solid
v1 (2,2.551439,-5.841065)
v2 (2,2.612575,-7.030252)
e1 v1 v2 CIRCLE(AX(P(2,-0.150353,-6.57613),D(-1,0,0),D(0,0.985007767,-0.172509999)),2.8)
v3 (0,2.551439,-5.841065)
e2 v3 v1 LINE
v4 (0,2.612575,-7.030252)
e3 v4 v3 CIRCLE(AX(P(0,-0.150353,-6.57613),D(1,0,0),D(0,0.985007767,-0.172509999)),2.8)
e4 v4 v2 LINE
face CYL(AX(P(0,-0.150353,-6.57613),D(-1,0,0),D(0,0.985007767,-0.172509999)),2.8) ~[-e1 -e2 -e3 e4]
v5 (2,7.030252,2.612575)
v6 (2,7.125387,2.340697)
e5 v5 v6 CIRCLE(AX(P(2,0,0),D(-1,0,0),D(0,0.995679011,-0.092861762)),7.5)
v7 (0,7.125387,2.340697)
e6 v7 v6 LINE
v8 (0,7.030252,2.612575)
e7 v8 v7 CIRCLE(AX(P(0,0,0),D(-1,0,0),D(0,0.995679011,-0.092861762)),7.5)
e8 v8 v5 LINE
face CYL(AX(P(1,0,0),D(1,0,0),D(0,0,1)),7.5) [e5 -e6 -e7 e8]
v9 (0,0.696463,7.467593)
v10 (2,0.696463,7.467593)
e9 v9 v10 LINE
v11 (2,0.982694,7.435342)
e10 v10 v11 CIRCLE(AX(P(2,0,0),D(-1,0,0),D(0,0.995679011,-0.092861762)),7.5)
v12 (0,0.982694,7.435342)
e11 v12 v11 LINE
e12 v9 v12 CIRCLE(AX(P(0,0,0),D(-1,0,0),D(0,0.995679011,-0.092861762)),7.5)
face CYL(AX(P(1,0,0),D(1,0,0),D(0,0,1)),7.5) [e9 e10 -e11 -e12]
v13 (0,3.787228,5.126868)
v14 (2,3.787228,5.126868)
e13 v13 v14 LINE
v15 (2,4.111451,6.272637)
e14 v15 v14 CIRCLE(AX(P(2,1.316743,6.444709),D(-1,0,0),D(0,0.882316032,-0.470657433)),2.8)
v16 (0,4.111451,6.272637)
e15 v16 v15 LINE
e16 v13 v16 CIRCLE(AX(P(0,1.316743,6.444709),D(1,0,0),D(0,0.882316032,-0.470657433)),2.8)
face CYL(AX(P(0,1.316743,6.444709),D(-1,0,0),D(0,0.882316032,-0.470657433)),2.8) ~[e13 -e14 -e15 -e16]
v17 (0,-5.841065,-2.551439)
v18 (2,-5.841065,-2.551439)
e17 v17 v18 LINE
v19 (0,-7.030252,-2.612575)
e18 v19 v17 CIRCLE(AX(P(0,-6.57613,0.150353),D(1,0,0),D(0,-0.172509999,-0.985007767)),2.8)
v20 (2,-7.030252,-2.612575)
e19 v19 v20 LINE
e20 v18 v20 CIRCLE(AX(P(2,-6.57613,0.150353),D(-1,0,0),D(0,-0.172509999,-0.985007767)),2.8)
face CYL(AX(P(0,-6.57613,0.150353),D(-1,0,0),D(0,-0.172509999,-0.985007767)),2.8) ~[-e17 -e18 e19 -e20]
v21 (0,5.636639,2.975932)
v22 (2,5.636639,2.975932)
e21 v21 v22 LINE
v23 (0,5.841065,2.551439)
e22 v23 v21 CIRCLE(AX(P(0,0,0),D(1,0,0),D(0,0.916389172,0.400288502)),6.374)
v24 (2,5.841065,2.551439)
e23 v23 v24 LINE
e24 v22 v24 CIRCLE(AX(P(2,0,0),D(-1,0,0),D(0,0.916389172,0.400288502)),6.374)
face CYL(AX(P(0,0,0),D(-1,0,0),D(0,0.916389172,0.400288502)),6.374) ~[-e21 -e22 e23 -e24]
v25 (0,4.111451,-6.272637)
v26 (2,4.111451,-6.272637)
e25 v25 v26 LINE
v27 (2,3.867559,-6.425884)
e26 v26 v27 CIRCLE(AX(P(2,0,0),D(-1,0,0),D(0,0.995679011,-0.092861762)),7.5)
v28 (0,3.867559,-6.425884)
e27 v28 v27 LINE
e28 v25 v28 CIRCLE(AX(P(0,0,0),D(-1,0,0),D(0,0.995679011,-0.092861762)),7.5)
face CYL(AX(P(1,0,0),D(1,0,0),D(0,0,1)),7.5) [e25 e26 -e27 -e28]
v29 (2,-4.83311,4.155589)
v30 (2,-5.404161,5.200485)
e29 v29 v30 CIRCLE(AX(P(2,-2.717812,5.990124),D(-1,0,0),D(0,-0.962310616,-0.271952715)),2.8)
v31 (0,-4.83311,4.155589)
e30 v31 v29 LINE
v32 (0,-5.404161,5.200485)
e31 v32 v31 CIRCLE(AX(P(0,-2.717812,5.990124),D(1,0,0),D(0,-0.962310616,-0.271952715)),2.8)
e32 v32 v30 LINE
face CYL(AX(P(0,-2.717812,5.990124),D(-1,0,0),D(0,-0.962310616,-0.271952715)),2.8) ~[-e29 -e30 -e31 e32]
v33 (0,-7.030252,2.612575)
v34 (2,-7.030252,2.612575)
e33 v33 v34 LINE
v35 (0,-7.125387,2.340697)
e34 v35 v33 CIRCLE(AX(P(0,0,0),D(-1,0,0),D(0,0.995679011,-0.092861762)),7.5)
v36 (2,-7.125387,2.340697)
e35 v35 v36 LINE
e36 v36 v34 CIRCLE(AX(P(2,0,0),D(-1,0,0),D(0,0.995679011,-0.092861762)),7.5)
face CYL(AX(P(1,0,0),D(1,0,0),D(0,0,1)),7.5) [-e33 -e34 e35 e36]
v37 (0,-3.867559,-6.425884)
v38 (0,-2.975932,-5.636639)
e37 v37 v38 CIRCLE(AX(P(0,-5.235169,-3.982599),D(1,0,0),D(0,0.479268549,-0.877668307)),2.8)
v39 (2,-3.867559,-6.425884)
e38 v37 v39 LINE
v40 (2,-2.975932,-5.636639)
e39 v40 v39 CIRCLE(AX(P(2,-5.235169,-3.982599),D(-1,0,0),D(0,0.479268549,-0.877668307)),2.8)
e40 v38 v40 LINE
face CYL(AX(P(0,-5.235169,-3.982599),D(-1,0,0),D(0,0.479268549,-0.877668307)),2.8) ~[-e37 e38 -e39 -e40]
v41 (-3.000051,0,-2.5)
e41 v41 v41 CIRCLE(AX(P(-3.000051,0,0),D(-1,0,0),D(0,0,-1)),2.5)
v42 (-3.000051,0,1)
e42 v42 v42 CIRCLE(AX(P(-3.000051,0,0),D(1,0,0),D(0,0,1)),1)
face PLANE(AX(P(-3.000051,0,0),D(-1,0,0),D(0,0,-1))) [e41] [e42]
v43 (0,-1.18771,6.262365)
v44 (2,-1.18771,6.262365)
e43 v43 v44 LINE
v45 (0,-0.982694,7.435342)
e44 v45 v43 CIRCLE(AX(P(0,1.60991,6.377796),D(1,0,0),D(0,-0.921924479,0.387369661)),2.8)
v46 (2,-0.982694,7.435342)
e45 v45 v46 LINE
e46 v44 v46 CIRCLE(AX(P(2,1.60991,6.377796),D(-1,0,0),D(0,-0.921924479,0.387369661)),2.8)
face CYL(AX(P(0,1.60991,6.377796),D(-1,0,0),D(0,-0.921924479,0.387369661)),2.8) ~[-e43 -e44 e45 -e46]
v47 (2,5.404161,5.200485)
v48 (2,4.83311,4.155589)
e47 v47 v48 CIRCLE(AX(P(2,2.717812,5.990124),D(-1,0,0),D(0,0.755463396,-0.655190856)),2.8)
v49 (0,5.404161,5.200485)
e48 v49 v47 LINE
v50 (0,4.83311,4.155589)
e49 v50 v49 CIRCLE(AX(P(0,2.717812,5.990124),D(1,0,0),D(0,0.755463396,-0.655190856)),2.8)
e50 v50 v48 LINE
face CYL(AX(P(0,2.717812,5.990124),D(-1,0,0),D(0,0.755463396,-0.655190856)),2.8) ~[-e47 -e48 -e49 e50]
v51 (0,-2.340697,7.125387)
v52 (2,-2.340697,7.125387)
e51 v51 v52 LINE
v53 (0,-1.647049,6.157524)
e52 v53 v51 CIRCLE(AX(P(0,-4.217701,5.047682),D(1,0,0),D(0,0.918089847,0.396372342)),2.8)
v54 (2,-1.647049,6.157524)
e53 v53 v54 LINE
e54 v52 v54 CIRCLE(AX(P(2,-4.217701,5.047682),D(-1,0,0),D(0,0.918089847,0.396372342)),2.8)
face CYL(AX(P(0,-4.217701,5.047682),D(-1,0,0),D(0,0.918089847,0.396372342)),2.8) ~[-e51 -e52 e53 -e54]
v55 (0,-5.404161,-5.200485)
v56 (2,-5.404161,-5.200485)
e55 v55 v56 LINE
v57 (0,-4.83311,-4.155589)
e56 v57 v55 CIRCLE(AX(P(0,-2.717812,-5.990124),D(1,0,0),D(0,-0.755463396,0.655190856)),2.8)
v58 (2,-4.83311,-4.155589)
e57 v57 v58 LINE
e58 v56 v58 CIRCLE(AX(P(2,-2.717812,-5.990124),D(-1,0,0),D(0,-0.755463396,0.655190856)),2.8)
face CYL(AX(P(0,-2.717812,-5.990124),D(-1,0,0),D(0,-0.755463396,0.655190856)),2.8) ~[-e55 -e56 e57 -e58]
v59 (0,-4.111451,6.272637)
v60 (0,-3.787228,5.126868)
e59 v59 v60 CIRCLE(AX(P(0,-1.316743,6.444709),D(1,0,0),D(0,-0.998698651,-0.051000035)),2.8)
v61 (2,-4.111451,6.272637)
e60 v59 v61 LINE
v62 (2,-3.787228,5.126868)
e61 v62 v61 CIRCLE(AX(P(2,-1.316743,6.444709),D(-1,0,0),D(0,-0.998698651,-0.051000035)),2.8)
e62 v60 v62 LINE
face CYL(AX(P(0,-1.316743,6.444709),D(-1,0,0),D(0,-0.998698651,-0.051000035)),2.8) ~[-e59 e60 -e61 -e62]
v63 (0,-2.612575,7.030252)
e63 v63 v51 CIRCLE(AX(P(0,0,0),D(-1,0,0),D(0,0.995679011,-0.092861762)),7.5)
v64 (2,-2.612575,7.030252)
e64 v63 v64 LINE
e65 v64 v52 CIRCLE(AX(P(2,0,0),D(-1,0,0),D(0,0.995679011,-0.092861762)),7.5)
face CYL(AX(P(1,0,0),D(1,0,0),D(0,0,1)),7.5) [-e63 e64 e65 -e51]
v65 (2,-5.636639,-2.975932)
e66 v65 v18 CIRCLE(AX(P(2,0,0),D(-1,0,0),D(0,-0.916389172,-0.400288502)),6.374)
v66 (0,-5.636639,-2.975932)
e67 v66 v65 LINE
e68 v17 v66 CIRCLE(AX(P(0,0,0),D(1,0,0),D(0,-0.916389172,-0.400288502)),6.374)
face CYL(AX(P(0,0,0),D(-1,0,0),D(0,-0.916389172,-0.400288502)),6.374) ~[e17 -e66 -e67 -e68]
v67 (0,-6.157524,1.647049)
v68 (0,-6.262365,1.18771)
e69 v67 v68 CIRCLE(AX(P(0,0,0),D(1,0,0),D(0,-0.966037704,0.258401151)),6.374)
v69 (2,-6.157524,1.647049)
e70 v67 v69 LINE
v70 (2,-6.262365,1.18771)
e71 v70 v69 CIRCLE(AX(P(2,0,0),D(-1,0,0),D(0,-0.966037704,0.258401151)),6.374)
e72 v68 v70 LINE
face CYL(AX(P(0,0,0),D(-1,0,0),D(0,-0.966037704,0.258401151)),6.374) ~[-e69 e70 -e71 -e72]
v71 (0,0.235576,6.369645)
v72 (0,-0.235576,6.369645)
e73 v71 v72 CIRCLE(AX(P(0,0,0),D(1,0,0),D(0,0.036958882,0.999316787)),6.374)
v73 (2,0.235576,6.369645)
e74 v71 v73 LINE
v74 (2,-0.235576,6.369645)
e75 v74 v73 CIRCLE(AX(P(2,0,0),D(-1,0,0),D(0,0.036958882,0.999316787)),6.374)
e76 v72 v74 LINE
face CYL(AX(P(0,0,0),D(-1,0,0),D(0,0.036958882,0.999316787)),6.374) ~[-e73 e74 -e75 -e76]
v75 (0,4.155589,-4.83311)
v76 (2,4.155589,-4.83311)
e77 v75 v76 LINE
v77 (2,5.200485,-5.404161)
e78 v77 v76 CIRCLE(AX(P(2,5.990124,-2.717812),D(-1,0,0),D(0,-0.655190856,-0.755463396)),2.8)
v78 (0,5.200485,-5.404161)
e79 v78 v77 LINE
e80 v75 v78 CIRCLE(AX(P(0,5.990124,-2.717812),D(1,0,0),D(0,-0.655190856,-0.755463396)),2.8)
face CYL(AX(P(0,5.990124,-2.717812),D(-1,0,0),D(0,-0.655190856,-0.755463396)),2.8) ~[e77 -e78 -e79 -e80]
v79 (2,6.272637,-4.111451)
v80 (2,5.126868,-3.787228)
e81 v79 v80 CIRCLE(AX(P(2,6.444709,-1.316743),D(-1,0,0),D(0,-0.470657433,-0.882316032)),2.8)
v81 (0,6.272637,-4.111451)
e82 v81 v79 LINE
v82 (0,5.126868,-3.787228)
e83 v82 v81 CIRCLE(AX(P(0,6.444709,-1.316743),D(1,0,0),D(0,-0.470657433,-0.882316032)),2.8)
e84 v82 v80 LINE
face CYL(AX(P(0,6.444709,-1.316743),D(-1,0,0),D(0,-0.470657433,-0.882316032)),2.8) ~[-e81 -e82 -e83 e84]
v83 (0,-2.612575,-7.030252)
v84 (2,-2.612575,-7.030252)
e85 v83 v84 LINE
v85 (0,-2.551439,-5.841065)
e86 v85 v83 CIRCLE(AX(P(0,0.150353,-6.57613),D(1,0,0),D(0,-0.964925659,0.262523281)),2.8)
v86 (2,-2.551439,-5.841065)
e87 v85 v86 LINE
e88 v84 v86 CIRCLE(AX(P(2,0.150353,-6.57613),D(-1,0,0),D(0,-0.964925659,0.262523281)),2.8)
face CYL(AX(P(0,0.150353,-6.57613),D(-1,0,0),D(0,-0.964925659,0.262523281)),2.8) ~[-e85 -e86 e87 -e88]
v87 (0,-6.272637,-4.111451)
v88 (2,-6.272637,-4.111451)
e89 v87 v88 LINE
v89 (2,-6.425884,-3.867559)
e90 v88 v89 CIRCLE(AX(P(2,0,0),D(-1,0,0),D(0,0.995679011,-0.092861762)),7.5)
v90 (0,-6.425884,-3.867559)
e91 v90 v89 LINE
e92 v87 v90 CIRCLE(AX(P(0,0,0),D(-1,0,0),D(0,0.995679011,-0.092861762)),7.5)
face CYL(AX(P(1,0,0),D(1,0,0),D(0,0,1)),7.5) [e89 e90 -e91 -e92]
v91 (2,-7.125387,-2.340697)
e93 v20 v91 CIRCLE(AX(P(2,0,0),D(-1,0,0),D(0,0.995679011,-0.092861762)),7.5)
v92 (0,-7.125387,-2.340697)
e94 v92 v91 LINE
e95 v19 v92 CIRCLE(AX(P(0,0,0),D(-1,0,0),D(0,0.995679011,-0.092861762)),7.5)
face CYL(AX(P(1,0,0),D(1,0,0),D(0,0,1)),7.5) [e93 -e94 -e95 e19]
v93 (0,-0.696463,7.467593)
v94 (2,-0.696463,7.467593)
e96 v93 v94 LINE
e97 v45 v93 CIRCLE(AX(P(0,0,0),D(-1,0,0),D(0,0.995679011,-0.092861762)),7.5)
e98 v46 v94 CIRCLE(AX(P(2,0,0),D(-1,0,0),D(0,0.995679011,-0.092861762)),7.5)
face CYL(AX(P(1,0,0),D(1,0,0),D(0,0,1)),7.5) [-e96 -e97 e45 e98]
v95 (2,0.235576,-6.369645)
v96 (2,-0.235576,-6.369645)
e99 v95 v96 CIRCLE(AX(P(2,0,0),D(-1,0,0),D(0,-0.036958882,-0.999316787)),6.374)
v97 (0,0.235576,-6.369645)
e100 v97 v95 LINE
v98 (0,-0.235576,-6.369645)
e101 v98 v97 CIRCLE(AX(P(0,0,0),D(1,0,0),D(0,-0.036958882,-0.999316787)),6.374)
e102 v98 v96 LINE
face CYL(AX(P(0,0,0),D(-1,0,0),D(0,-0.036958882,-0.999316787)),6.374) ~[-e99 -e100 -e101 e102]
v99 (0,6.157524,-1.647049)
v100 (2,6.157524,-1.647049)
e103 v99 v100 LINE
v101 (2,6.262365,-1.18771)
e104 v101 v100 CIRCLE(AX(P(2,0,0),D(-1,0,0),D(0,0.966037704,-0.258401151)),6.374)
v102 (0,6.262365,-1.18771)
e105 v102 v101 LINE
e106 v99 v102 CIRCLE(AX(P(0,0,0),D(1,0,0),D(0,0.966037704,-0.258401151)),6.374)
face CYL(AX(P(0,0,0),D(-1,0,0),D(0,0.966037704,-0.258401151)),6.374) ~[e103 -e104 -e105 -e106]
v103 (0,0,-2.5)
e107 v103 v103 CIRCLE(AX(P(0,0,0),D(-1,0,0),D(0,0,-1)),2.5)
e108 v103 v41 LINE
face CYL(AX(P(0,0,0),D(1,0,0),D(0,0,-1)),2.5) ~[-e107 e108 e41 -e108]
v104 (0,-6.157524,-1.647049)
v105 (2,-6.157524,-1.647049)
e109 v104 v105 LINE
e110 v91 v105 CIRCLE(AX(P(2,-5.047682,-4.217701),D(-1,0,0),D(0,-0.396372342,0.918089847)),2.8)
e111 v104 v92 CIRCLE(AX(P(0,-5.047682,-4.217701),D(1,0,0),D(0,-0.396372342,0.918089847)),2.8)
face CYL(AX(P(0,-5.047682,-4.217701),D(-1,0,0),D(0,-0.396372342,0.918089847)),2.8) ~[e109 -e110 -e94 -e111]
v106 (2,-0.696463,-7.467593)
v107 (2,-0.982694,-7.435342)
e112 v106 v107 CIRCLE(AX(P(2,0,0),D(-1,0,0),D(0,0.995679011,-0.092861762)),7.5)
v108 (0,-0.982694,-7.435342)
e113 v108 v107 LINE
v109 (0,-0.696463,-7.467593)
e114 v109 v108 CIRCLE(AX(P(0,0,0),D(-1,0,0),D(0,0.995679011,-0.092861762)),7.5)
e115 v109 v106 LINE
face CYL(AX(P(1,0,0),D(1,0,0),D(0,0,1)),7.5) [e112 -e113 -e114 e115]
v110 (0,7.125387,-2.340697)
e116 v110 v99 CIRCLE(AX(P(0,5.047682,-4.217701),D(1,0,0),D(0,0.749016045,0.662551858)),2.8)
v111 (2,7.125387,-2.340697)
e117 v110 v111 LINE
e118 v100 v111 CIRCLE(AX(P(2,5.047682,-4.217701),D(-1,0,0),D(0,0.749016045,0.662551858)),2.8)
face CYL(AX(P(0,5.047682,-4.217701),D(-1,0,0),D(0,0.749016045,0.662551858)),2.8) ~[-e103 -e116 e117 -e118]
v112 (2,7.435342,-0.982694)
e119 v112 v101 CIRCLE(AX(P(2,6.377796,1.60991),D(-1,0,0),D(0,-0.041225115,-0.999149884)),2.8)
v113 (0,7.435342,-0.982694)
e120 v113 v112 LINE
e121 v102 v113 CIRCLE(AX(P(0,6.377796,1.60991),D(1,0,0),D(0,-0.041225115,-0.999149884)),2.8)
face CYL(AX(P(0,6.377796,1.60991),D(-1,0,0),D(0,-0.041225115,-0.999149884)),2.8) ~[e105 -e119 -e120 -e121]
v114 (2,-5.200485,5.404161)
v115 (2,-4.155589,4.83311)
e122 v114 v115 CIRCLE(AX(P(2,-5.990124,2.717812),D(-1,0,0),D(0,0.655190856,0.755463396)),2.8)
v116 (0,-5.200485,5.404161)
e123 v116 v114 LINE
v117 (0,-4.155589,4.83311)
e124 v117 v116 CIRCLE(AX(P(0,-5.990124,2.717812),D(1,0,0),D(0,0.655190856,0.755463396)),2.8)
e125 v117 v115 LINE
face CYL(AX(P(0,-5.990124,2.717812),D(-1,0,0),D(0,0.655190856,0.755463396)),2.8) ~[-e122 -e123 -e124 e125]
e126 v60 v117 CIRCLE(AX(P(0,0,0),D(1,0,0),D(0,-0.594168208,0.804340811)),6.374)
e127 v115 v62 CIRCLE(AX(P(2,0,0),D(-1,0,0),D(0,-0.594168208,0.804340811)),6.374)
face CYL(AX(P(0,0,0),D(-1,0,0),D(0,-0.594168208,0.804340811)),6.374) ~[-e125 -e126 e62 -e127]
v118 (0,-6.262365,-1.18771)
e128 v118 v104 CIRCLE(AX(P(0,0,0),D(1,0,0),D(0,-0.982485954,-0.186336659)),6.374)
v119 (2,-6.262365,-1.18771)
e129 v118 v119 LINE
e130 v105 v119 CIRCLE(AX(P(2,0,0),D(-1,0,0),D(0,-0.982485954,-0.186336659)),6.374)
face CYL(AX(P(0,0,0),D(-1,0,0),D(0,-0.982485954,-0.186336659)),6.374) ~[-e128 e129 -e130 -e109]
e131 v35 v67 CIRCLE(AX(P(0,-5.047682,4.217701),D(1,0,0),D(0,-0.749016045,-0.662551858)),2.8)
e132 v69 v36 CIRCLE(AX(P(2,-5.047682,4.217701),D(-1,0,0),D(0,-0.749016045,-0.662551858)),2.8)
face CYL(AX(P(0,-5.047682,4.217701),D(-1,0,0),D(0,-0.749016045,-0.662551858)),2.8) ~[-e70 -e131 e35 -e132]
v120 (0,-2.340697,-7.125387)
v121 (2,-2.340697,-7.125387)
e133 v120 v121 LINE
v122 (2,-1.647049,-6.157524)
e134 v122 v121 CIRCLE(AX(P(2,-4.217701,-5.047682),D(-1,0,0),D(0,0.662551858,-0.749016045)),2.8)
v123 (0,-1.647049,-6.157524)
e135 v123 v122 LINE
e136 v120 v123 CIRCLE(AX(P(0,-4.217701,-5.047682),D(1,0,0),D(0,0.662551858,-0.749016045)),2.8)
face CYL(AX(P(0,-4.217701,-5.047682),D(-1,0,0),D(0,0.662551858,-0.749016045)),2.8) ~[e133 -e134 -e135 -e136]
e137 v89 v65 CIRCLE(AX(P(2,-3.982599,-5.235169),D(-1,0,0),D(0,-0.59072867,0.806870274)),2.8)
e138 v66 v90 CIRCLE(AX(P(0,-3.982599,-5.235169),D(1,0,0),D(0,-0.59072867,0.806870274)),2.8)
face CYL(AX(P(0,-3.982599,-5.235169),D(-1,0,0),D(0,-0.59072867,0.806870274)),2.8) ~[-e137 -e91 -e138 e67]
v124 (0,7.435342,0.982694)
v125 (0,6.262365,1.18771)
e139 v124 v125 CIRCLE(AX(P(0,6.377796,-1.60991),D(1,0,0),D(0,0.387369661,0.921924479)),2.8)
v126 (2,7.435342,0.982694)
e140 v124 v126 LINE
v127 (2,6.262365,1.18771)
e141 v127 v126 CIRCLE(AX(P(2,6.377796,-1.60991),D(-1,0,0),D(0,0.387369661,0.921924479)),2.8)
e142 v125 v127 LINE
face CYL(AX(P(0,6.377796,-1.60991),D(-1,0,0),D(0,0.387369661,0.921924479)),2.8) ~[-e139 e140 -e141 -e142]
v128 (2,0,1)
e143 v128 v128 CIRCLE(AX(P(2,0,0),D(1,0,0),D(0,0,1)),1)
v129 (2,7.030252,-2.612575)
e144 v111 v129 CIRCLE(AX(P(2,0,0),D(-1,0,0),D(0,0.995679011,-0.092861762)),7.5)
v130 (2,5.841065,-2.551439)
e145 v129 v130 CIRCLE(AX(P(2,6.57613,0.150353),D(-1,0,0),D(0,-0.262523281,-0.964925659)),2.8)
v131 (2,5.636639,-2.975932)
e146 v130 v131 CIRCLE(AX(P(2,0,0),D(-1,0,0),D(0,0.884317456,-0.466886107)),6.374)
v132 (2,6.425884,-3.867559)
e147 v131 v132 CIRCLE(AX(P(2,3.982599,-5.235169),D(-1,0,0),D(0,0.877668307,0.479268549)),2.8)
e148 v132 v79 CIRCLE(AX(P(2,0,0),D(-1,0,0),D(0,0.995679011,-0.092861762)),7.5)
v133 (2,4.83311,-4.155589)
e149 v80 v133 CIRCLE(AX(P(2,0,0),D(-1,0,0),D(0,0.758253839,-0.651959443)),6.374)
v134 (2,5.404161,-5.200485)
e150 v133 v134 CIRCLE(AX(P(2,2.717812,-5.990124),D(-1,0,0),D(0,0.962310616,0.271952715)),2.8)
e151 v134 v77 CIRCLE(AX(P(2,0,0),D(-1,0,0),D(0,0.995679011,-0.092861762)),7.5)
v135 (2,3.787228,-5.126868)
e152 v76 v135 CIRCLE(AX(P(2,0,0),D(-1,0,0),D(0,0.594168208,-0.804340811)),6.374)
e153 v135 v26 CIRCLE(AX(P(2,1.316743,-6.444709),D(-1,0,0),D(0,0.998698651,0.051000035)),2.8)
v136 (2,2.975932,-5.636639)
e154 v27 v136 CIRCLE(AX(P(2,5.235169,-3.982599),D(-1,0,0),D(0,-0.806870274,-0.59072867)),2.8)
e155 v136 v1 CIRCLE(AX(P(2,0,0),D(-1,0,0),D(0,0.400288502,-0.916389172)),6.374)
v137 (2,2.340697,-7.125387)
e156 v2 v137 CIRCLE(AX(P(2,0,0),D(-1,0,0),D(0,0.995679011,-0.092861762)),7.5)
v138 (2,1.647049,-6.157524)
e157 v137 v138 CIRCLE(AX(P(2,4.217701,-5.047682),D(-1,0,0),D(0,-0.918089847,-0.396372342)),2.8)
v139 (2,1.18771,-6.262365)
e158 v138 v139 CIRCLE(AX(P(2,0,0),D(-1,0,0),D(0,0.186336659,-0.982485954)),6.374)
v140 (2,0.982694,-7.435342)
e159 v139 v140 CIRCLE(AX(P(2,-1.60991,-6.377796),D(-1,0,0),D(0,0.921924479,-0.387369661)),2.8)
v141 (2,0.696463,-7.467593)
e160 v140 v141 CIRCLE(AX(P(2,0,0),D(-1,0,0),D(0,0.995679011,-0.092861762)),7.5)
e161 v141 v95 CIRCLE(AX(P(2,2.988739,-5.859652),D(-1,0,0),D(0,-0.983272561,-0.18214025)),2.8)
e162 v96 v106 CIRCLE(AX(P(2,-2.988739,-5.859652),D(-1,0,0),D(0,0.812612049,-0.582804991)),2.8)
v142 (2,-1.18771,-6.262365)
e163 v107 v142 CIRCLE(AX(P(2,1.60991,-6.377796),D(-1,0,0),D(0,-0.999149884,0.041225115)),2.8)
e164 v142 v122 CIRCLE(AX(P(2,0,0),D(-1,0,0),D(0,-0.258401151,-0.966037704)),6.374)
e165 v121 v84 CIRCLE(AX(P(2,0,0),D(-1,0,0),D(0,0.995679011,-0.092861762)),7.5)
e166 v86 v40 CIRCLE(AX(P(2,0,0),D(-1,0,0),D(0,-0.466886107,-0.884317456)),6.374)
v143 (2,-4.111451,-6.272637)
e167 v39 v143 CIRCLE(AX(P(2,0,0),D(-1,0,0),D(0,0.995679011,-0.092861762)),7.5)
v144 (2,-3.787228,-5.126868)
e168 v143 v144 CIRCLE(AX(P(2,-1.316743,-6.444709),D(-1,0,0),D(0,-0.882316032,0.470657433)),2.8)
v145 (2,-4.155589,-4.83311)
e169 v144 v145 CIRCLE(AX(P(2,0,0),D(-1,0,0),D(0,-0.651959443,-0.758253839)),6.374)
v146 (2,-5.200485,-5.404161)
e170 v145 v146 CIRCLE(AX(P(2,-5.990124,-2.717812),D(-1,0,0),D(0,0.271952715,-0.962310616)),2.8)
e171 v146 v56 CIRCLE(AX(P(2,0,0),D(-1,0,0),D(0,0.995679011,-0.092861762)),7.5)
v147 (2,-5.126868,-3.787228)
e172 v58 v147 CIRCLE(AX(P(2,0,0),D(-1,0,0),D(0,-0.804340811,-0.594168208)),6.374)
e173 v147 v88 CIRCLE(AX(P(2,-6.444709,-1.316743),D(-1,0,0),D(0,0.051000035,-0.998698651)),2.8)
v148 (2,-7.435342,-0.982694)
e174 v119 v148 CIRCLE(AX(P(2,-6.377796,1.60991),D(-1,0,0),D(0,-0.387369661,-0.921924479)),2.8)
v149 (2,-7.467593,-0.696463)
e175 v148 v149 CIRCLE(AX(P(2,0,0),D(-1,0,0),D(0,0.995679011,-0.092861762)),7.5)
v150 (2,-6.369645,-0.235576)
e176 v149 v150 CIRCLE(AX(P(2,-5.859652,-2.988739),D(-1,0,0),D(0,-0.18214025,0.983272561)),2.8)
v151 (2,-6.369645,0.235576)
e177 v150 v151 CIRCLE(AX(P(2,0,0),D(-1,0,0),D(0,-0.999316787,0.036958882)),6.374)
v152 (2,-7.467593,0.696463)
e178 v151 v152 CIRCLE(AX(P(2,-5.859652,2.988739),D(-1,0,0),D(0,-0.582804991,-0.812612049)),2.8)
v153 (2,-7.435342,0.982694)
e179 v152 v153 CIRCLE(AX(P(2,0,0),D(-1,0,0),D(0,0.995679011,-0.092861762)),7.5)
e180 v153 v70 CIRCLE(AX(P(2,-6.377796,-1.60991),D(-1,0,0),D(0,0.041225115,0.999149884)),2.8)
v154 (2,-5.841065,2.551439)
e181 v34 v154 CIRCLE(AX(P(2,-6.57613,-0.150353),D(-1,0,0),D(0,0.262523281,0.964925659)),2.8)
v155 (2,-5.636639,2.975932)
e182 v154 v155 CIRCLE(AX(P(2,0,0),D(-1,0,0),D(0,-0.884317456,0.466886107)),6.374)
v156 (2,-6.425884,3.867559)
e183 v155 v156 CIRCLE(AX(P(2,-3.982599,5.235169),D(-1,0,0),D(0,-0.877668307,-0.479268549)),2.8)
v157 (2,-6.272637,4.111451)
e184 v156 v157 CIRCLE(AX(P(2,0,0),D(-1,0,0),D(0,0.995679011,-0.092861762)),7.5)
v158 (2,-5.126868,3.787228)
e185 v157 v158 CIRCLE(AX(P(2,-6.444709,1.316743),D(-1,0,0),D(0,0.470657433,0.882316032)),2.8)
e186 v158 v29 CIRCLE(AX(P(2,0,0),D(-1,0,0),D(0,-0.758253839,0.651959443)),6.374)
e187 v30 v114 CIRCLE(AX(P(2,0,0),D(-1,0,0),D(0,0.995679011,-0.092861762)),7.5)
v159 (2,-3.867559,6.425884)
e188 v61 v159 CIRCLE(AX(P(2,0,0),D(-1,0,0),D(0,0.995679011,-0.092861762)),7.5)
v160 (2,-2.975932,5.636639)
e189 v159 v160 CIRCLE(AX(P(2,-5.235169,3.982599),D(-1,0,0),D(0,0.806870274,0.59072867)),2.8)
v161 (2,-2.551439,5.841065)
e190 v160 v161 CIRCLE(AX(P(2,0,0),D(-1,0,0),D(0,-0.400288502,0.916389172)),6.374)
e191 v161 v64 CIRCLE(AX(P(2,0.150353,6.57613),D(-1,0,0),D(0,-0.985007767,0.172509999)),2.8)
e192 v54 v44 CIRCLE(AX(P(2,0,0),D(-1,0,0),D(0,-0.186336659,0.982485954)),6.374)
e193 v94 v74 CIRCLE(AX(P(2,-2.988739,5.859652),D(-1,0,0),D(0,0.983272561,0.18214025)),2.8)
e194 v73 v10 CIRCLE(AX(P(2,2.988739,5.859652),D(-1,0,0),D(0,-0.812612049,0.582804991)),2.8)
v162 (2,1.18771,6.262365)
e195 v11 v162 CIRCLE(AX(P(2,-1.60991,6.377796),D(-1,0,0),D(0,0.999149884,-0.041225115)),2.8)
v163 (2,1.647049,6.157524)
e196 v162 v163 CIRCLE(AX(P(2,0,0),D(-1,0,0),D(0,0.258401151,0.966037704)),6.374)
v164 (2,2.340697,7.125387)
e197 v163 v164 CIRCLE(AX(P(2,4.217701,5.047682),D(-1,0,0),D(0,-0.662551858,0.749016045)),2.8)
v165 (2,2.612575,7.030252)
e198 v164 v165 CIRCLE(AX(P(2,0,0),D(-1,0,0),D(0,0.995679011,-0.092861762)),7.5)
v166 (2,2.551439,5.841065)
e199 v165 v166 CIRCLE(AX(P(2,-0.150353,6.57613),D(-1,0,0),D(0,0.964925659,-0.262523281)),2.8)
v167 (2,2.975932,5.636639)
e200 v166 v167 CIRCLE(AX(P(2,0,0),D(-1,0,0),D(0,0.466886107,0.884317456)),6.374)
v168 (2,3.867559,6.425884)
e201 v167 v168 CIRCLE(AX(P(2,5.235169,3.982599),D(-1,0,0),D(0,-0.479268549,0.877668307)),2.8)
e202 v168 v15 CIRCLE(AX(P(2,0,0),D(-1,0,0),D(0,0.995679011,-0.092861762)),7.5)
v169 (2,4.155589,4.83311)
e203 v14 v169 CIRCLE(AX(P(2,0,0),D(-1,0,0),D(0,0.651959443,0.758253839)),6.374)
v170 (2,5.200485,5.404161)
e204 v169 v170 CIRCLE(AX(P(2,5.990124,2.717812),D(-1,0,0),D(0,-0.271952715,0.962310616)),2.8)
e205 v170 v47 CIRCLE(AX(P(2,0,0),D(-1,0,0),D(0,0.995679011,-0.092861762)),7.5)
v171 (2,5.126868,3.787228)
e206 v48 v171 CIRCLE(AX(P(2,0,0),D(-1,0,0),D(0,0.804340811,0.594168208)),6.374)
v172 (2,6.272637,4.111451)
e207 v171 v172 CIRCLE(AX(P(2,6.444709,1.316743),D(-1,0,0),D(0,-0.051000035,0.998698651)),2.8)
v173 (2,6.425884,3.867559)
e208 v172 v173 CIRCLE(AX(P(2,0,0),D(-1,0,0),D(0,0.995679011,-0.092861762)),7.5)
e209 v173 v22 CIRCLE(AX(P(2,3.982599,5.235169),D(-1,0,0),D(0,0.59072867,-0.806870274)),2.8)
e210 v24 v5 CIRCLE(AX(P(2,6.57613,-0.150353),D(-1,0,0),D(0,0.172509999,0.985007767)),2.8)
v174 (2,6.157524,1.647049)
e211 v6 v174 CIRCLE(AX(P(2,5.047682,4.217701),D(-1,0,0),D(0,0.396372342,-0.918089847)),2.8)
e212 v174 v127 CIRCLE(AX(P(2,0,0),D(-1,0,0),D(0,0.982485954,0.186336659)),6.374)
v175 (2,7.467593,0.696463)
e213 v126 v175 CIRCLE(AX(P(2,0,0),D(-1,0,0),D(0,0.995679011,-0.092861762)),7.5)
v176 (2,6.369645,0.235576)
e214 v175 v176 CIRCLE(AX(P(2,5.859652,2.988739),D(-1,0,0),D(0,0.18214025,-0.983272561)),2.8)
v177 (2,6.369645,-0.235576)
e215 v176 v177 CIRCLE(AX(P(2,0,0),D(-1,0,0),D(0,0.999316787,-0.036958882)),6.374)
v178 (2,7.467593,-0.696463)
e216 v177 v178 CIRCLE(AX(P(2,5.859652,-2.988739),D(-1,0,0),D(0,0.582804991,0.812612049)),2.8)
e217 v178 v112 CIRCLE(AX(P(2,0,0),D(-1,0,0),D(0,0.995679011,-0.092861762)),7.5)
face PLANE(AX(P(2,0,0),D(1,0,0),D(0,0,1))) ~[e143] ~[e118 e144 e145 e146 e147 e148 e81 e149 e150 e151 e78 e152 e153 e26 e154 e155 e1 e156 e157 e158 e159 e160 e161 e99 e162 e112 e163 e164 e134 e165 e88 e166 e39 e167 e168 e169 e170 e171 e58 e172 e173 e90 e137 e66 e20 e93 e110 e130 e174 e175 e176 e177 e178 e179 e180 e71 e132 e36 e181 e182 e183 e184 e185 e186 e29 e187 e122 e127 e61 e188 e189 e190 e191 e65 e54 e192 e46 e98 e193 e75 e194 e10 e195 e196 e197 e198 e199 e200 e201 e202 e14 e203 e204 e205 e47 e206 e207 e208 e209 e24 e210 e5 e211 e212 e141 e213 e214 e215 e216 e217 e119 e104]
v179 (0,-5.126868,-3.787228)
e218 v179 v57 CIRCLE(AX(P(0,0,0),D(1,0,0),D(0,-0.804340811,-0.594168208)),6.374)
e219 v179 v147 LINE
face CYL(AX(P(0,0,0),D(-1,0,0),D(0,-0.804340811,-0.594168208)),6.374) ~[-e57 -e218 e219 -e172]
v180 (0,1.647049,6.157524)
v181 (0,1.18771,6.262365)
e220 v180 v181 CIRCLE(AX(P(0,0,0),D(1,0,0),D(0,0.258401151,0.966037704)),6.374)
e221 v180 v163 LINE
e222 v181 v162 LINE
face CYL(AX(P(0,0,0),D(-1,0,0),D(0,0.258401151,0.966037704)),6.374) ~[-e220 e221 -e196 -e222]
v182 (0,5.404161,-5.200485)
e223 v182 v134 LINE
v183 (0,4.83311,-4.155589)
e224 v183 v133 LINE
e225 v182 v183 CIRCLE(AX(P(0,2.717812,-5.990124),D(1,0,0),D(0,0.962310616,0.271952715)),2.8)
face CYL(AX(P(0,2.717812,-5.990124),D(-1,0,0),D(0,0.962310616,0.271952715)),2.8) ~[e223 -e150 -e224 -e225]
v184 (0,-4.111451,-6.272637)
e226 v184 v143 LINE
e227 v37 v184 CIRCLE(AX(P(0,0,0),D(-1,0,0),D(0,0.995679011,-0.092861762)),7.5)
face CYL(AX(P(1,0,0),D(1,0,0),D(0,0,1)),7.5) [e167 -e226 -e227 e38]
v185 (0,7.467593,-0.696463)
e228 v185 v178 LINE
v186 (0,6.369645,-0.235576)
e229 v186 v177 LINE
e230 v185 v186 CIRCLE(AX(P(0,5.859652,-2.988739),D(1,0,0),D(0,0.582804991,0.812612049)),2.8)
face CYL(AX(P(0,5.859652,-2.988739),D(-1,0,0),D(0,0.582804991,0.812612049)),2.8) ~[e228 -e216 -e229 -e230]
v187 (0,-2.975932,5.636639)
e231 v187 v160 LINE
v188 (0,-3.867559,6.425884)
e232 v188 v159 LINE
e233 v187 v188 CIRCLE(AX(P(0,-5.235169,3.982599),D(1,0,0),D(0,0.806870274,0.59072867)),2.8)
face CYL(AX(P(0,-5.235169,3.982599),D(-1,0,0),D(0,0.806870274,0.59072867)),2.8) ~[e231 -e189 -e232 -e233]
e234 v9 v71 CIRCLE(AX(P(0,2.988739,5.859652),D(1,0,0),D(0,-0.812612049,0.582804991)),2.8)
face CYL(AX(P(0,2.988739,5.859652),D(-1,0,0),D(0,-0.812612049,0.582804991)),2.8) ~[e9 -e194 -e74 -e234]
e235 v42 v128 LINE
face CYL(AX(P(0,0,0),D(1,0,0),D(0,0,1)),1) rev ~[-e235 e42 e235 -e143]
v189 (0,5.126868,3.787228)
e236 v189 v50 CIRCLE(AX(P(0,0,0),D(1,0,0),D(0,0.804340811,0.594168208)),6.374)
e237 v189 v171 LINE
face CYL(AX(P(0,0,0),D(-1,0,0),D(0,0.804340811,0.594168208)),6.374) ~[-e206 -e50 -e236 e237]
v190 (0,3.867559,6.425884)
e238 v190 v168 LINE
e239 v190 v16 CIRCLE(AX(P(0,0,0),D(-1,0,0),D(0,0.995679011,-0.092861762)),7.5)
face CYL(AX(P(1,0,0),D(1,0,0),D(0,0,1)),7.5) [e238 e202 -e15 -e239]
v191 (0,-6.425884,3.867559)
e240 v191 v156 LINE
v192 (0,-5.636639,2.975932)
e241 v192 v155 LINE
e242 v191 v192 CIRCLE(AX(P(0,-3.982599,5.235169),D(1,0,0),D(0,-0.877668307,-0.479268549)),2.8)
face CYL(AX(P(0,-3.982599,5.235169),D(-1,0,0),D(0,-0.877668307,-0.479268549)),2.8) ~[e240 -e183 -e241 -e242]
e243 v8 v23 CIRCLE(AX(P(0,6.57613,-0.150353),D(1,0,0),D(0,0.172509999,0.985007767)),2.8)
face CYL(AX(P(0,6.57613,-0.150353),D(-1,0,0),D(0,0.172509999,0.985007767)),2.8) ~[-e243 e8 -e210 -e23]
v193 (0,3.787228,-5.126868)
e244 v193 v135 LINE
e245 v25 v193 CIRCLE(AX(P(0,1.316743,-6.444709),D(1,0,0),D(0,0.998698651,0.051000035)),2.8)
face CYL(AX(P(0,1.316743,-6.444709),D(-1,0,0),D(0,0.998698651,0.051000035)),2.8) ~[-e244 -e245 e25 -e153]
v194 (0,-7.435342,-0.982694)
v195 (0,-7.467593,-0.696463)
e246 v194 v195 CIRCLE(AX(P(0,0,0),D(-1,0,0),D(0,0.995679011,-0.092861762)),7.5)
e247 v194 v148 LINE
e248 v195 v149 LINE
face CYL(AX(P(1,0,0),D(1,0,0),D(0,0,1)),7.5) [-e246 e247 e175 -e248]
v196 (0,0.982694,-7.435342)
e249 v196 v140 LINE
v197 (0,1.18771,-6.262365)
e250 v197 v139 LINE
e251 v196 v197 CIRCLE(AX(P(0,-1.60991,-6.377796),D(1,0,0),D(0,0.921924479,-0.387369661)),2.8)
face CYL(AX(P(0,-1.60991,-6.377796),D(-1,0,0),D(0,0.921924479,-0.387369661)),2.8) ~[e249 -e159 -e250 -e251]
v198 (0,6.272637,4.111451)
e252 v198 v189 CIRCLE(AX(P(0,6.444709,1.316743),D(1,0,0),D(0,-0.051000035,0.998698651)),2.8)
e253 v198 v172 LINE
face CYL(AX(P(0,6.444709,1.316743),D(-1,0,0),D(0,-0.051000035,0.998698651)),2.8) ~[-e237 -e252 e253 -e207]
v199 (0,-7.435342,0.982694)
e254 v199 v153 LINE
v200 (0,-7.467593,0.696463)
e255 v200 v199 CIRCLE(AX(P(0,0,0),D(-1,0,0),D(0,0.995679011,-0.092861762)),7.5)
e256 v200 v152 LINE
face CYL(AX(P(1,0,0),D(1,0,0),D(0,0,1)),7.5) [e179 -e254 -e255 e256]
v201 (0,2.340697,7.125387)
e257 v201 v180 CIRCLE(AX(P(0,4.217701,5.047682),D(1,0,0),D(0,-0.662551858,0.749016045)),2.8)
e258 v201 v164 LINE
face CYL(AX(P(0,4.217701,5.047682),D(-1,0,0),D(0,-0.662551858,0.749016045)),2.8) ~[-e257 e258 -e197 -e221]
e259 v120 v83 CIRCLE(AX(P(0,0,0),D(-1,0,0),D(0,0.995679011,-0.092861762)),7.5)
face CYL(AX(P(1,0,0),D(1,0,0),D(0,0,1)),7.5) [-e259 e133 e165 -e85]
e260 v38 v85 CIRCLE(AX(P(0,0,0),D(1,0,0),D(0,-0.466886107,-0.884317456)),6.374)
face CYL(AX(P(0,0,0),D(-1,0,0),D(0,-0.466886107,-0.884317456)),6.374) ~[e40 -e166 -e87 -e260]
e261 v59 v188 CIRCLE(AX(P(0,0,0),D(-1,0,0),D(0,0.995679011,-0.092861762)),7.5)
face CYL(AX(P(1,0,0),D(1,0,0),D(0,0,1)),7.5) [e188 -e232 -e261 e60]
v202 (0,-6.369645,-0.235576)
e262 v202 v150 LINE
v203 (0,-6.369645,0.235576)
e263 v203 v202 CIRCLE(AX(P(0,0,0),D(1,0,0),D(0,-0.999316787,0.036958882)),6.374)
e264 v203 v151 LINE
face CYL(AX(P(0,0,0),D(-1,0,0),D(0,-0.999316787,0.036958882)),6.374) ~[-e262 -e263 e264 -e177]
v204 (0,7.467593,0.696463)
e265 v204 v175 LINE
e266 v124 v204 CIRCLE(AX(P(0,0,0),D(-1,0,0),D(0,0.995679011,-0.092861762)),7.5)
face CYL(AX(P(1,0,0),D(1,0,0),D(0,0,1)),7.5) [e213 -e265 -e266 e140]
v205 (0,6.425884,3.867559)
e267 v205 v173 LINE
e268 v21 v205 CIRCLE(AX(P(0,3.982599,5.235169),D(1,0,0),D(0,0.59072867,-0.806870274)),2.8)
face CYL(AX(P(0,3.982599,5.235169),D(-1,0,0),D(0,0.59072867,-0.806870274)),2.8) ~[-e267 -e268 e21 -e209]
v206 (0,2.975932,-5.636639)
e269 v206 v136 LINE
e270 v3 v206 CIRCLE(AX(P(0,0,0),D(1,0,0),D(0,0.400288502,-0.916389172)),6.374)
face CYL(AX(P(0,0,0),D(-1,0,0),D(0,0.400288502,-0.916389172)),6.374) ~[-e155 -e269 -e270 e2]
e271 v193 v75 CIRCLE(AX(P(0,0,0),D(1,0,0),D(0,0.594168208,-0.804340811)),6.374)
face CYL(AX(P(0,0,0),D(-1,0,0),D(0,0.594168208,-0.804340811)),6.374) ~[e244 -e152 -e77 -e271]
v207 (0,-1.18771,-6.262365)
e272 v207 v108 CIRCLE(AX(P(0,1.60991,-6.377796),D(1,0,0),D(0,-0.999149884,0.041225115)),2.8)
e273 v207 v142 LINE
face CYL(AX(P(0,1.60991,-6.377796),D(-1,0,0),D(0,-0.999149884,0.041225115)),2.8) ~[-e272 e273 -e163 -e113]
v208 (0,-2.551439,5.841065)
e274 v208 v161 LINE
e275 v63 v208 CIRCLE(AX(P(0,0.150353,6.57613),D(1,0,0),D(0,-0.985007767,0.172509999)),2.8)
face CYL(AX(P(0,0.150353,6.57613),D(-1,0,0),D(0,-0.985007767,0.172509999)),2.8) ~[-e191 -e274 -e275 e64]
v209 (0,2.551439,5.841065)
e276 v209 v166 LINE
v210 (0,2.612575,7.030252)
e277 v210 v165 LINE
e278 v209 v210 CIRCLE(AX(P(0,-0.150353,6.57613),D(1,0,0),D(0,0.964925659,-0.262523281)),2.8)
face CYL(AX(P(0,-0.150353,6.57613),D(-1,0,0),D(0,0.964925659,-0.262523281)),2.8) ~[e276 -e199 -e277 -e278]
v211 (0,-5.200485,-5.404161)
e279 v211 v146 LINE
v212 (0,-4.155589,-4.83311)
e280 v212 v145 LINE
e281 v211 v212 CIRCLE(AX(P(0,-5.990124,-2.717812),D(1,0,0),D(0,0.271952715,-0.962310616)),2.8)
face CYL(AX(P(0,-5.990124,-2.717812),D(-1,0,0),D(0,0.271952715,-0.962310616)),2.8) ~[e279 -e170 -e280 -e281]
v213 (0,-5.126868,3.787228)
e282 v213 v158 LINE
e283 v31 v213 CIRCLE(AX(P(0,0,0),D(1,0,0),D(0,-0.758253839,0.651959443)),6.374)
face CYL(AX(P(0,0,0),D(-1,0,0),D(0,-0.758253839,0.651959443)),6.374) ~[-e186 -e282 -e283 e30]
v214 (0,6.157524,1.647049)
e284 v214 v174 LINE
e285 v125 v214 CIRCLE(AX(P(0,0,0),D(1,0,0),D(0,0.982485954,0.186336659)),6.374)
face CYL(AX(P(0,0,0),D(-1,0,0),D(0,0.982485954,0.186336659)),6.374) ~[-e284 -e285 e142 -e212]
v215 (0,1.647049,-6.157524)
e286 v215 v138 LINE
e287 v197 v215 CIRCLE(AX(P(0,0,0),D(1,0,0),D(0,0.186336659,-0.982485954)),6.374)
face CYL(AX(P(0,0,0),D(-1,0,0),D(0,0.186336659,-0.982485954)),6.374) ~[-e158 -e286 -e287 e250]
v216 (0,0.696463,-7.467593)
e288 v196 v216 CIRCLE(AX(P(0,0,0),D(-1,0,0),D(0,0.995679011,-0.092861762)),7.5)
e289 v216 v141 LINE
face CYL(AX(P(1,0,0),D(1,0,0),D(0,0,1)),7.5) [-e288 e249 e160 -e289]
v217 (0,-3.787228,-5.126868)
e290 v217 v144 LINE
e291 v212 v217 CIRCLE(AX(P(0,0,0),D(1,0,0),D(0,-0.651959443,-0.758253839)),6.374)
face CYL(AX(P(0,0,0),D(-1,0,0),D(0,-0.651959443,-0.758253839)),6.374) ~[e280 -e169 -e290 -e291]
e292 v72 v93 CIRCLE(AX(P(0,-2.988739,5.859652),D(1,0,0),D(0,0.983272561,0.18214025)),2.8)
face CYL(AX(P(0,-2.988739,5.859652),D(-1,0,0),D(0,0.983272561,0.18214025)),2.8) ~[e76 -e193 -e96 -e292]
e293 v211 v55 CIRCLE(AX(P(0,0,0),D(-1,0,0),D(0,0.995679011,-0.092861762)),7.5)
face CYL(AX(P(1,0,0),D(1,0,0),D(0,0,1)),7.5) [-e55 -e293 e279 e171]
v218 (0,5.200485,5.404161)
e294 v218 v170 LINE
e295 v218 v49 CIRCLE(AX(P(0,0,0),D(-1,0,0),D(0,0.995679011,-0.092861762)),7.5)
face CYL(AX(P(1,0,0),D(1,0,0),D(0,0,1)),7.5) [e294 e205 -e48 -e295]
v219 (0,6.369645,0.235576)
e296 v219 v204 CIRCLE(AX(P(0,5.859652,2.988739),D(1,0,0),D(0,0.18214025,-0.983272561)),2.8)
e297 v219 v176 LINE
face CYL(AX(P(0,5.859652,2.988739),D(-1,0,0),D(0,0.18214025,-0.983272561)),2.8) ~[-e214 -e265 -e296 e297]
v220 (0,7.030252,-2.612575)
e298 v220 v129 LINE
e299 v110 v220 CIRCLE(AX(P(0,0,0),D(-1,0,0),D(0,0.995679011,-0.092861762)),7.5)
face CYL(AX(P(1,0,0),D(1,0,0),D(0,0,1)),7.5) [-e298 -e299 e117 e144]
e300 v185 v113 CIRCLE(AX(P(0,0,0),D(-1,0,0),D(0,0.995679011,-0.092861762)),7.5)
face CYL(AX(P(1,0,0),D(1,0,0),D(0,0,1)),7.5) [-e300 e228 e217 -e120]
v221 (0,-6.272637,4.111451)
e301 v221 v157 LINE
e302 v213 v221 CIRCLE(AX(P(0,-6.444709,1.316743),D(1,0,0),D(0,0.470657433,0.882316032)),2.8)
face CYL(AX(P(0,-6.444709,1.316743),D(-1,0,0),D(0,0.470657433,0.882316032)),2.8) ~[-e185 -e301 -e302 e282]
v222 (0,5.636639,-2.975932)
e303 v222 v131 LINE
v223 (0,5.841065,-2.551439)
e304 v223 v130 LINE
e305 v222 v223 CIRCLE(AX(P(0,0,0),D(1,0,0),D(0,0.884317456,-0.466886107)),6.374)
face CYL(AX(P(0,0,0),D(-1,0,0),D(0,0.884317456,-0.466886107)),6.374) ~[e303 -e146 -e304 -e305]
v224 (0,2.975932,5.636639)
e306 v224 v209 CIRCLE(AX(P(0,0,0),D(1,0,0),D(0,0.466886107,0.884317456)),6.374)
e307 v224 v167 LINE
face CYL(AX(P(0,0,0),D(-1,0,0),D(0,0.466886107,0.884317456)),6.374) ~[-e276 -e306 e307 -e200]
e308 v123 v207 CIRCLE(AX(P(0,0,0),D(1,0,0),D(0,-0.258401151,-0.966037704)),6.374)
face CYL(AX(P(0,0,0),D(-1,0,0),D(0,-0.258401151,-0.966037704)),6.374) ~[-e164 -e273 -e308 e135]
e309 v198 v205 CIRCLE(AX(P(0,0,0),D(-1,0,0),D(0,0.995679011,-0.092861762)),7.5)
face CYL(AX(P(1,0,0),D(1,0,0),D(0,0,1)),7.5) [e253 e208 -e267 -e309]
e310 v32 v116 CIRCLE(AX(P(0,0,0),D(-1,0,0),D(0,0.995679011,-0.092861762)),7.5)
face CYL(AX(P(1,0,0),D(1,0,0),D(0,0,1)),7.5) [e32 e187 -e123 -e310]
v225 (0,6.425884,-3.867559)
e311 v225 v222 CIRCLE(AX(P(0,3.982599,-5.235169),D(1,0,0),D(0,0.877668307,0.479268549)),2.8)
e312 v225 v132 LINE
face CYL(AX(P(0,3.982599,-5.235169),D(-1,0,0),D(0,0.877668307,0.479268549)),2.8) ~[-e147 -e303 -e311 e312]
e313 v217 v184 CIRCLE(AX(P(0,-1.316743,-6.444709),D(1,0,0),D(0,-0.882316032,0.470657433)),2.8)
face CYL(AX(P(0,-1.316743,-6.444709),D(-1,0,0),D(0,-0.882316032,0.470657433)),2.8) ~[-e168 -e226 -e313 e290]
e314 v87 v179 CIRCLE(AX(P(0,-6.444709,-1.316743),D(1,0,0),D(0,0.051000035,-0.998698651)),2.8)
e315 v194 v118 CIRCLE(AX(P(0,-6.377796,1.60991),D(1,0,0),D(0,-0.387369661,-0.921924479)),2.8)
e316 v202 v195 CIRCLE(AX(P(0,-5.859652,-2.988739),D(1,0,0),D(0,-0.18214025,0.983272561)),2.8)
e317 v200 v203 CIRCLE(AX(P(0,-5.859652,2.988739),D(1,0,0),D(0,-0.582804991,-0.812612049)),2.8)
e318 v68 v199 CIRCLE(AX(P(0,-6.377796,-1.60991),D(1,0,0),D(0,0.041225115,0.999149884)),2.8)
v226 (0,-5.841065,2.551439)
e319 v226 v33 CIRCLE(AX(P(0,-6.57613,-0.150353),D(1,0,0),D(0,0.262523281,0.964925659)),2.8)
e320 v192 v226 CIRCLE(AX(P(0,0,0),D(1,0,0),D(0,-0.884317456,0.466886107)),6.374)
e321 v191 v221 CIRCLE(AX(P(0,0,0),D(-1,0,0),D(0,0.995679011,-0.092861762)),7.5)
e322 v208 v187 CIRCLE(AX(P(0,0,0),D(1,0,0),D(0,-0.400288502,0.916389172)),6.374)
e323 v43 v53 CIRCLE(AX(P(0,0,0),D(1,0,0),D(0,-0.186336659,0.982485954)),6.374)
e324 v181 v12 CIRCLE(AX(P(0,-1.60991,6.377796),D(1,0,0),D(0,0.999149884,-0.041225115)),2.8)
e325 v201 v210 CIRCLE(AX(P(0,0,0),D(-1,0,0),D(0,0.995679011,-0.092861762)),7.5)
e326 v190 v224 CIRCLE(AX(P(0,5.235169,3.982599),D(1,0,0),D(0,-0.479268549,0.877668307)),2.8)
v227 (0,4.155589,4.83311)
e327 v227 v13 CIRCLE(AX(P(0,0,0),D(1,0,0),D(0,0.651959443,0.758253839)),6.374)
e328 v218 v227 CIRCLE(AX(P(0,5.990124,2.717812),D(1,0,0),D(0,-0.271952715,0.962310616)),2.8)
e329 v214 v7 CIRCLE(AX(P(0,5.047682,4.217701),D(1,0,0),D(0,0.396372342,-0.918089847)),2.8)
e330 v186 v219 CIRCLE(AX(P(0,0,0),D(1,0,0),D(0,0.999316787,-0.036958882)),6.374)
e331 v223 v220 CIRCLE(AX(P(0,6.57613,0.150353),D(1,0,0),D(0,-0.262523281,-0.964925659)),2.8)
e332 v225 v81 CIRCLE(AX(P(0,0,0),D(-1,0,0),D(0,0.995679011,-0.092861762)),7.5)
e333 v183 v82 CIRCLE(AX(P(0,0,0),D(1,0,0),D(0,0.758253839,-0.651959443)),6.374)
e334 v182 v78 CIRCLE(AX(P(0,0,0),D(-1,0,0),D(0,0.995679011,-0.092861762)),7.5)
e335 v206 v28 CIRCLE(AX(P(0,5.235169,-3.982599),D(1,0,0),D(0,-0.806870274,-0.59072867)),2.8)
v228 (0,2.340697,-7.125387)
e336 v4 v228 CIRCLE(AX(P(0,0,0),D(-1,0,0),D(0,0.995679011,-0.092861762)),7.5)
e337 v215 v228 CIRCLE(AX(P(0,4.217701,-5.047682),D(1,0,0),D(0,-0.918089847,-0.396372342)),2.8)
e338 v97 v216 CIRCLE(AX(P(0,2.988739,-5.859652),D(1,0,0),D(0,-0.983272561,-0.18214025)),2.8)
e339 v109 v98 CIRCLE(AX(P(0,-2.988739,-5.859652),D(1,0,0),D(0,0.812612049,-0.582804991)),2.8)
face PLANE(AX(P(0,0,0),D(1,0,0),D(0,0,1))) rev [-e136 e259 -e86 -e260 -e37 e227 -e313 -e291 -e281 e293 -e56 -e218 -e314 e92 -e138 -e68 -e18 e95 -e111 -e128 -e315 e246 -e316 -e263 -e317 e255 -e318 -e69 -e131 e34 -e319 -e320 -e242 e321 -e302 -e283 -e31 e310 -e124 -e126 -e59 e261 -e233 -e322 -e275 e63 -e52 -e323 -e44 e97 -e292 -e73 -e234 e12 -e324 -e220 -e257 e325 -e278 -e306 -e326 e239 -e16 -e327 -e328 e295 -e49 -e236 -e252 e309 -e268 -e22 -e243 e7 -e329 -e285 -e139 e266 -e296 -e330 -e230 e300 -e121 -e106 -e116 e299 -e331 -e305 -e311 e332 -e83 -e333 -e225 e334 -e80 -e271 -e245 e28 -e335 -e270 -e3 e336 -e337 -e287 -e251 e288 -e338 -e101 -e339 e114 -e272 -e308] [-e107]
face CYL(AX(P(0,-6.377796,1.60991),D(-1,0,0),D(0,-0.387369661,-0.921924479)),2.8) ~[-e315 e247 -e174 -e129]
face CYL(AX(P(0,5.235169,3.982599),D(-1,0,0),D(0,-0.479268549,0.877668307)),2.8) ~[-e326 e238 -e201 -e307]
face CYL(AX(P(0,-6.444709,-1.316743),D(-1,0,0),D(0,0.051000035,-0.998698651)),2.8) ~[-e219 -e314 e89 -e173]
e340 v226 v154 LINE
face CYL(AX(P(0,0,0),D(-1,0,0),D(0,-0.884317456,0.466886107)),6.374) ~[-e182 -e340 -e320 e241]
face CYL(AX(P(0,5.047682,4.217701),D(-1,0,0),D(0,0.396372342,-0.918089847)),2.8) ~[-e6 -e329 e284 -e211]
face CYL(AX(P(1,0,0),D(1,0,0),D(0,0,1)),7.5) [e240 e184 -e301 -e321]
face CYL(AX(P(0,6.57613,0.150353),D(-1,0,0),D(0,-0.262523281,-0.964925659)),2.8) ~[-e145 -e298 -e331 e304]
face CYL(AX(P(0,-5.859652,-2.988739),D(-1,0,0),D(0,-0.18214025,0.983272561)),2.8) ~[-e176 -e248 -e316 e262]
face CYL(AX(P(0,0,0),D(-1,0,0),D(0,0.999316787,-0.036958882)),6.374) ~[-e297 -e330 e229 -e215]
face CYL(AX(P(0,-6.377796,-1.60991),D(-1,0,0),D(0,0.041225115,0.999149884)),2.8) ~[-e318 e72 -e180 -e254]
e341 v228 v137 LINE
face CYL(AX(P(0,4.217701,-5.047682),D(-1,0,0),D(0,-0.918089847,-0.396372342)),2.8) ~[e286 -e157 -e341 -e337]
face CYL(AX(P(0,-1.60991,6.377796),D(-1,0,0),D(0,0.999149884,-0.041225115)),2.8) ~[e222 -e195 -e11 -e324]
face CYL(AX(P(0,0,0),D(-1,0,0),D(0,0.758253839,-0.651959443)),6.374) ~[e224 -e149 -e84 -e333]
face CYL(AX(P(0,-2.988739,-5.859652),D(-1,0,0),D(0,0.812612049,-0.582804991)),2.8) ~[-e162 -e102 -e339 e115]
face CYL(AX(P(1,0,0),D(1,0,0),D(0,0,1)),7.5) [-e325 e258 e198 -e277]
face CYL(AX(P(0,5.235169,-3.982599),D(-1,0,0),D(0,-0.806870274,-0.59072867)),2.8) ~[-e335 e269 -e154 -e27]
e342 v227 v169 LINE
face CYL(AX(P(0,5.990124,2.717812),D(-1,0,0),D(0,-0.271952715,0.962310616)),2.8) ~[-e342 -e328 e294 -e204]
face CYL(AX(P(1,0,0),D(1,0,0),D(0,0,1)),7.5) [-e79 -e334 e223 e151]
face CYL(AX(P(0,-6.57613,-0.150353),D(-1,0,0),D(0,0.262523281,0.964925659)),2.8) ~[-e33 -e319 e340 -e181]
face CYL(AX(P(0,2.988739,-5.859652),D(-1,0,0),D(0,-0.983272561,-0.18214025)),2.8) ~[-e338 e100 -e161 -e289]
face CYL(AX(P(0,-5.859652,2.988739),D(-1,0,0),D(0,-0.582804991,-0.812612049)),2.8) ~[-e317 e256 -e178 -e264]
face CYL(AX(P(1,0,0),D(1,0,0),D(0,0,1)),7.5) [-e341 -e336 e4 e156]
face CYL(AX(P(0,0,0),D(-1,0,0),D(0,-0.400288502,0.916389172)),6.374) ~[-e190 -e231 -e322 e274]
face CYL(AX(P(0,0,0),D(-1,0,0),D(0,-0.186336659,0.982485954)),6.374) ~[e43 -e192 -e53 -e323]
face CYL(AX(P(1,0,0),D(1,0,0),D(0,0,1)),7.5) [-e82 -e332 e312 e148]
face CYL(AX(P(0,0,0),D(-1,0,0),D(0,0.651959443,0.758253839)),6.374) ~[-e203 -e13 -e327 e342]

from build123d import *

# Parameters (mm, degrees)
BASPROSKE_W      = 2
BASPROSKE_H      = 7.5
TOOTHCUT_DEPTH   = 11.793516572
TEETHCUTS_COUNT  = 28
TEETHCUTS_ANGLE  = 347.142857143
HUBNEAONESKE_R   = 2.5
HUBNEARONE_DEPTH = 3.0000508
BORSKE_R         = 1
BORE_DEPTH       = 5.0000508


with BuildPart() as part:
    # BasProSke → Base-Revolve (revolve)
    with BuildSketch(Plane(origin=(0, 0, 0), x_dir=(1, 0, 0), z_dir=(0, 1, 0)), mode=Mode.PRIVATE) as base_revolve_sk:
        with Locations((1, 3.75)):
            Rectangle(BASPROSKE_W, BASPROSKE_H)
    revolve(base_revolve_sk.sketch.rotate(Axis((-10, 0, 0), (1, 0, 0)), 180), axis=Axis((-10, 0, 0), (1, 0, 0)))

    # TooCutSke → ToothCut (cut, through all)
    with BuildSketch(Plane(origin=(0, 0, 0), x_dir=(0, 0, -1), z_dir=(1, 0, 0))):
        with BuildLine():
            ThreePointArc((0.235575921, 6.369645201), (0, 6.374), (-0.235575921, 6.369645201))
            ThreePointArc((-0.235575921, 6.369645201), (-0.412688204, 6.956904444), (-0.713425358, 7.491506485))
            ThreePointArc((-0.713425358, 7.491506485), (0, 7.5254), (0.713425358, 7.491506485))
            ThreePointArc((0.713425358, 7.491506485), (0.412688204, 6.956904444), (0.235575921, 6.369645201))
        make_face()
    toothcut = extrude(amount=TOOTHCUT_DEPTH, mode=Mode.SUBTRACT)

    # TeethCuts: ToothCut ×28 about axis
    teethcuts_axis = Axis((-10, 0, 0), (1, 0, 0))
    for i in range(1, TEETHCUTS_COUNT):
        add(toothcut.rotate(teethcuts_axis, i * TEETHCUTS_ANGLE / (TEETHCUTS_COUNT - 1)), mode=Mode.SUBTRACT)

    # HubNeaOneSke → HubNearOne (add)
    with BuildSketch(Plane.ZY):
        with Locations(Location((0, 0, 0), (0, 0, 180))):
            Circle(HUBNEAONESKE_R)
    extrude(amount=HUBNEARONE_DEPTH)

    # BorSke → Bore (cut, symmetric)
    with BuildSketch(Plane(origin=(0, 0, 0), x_dir=(0, 0, -1), z_dir=(1, 0, 0))):
        with Locations(Location((0, 0, 0), (0, 0, 180))):
            Circle(BORSKE_R)
    extrude(amount=BORE_DEPTH, both=True, mode=Mode.SUBTRACT)


solid = part.part
